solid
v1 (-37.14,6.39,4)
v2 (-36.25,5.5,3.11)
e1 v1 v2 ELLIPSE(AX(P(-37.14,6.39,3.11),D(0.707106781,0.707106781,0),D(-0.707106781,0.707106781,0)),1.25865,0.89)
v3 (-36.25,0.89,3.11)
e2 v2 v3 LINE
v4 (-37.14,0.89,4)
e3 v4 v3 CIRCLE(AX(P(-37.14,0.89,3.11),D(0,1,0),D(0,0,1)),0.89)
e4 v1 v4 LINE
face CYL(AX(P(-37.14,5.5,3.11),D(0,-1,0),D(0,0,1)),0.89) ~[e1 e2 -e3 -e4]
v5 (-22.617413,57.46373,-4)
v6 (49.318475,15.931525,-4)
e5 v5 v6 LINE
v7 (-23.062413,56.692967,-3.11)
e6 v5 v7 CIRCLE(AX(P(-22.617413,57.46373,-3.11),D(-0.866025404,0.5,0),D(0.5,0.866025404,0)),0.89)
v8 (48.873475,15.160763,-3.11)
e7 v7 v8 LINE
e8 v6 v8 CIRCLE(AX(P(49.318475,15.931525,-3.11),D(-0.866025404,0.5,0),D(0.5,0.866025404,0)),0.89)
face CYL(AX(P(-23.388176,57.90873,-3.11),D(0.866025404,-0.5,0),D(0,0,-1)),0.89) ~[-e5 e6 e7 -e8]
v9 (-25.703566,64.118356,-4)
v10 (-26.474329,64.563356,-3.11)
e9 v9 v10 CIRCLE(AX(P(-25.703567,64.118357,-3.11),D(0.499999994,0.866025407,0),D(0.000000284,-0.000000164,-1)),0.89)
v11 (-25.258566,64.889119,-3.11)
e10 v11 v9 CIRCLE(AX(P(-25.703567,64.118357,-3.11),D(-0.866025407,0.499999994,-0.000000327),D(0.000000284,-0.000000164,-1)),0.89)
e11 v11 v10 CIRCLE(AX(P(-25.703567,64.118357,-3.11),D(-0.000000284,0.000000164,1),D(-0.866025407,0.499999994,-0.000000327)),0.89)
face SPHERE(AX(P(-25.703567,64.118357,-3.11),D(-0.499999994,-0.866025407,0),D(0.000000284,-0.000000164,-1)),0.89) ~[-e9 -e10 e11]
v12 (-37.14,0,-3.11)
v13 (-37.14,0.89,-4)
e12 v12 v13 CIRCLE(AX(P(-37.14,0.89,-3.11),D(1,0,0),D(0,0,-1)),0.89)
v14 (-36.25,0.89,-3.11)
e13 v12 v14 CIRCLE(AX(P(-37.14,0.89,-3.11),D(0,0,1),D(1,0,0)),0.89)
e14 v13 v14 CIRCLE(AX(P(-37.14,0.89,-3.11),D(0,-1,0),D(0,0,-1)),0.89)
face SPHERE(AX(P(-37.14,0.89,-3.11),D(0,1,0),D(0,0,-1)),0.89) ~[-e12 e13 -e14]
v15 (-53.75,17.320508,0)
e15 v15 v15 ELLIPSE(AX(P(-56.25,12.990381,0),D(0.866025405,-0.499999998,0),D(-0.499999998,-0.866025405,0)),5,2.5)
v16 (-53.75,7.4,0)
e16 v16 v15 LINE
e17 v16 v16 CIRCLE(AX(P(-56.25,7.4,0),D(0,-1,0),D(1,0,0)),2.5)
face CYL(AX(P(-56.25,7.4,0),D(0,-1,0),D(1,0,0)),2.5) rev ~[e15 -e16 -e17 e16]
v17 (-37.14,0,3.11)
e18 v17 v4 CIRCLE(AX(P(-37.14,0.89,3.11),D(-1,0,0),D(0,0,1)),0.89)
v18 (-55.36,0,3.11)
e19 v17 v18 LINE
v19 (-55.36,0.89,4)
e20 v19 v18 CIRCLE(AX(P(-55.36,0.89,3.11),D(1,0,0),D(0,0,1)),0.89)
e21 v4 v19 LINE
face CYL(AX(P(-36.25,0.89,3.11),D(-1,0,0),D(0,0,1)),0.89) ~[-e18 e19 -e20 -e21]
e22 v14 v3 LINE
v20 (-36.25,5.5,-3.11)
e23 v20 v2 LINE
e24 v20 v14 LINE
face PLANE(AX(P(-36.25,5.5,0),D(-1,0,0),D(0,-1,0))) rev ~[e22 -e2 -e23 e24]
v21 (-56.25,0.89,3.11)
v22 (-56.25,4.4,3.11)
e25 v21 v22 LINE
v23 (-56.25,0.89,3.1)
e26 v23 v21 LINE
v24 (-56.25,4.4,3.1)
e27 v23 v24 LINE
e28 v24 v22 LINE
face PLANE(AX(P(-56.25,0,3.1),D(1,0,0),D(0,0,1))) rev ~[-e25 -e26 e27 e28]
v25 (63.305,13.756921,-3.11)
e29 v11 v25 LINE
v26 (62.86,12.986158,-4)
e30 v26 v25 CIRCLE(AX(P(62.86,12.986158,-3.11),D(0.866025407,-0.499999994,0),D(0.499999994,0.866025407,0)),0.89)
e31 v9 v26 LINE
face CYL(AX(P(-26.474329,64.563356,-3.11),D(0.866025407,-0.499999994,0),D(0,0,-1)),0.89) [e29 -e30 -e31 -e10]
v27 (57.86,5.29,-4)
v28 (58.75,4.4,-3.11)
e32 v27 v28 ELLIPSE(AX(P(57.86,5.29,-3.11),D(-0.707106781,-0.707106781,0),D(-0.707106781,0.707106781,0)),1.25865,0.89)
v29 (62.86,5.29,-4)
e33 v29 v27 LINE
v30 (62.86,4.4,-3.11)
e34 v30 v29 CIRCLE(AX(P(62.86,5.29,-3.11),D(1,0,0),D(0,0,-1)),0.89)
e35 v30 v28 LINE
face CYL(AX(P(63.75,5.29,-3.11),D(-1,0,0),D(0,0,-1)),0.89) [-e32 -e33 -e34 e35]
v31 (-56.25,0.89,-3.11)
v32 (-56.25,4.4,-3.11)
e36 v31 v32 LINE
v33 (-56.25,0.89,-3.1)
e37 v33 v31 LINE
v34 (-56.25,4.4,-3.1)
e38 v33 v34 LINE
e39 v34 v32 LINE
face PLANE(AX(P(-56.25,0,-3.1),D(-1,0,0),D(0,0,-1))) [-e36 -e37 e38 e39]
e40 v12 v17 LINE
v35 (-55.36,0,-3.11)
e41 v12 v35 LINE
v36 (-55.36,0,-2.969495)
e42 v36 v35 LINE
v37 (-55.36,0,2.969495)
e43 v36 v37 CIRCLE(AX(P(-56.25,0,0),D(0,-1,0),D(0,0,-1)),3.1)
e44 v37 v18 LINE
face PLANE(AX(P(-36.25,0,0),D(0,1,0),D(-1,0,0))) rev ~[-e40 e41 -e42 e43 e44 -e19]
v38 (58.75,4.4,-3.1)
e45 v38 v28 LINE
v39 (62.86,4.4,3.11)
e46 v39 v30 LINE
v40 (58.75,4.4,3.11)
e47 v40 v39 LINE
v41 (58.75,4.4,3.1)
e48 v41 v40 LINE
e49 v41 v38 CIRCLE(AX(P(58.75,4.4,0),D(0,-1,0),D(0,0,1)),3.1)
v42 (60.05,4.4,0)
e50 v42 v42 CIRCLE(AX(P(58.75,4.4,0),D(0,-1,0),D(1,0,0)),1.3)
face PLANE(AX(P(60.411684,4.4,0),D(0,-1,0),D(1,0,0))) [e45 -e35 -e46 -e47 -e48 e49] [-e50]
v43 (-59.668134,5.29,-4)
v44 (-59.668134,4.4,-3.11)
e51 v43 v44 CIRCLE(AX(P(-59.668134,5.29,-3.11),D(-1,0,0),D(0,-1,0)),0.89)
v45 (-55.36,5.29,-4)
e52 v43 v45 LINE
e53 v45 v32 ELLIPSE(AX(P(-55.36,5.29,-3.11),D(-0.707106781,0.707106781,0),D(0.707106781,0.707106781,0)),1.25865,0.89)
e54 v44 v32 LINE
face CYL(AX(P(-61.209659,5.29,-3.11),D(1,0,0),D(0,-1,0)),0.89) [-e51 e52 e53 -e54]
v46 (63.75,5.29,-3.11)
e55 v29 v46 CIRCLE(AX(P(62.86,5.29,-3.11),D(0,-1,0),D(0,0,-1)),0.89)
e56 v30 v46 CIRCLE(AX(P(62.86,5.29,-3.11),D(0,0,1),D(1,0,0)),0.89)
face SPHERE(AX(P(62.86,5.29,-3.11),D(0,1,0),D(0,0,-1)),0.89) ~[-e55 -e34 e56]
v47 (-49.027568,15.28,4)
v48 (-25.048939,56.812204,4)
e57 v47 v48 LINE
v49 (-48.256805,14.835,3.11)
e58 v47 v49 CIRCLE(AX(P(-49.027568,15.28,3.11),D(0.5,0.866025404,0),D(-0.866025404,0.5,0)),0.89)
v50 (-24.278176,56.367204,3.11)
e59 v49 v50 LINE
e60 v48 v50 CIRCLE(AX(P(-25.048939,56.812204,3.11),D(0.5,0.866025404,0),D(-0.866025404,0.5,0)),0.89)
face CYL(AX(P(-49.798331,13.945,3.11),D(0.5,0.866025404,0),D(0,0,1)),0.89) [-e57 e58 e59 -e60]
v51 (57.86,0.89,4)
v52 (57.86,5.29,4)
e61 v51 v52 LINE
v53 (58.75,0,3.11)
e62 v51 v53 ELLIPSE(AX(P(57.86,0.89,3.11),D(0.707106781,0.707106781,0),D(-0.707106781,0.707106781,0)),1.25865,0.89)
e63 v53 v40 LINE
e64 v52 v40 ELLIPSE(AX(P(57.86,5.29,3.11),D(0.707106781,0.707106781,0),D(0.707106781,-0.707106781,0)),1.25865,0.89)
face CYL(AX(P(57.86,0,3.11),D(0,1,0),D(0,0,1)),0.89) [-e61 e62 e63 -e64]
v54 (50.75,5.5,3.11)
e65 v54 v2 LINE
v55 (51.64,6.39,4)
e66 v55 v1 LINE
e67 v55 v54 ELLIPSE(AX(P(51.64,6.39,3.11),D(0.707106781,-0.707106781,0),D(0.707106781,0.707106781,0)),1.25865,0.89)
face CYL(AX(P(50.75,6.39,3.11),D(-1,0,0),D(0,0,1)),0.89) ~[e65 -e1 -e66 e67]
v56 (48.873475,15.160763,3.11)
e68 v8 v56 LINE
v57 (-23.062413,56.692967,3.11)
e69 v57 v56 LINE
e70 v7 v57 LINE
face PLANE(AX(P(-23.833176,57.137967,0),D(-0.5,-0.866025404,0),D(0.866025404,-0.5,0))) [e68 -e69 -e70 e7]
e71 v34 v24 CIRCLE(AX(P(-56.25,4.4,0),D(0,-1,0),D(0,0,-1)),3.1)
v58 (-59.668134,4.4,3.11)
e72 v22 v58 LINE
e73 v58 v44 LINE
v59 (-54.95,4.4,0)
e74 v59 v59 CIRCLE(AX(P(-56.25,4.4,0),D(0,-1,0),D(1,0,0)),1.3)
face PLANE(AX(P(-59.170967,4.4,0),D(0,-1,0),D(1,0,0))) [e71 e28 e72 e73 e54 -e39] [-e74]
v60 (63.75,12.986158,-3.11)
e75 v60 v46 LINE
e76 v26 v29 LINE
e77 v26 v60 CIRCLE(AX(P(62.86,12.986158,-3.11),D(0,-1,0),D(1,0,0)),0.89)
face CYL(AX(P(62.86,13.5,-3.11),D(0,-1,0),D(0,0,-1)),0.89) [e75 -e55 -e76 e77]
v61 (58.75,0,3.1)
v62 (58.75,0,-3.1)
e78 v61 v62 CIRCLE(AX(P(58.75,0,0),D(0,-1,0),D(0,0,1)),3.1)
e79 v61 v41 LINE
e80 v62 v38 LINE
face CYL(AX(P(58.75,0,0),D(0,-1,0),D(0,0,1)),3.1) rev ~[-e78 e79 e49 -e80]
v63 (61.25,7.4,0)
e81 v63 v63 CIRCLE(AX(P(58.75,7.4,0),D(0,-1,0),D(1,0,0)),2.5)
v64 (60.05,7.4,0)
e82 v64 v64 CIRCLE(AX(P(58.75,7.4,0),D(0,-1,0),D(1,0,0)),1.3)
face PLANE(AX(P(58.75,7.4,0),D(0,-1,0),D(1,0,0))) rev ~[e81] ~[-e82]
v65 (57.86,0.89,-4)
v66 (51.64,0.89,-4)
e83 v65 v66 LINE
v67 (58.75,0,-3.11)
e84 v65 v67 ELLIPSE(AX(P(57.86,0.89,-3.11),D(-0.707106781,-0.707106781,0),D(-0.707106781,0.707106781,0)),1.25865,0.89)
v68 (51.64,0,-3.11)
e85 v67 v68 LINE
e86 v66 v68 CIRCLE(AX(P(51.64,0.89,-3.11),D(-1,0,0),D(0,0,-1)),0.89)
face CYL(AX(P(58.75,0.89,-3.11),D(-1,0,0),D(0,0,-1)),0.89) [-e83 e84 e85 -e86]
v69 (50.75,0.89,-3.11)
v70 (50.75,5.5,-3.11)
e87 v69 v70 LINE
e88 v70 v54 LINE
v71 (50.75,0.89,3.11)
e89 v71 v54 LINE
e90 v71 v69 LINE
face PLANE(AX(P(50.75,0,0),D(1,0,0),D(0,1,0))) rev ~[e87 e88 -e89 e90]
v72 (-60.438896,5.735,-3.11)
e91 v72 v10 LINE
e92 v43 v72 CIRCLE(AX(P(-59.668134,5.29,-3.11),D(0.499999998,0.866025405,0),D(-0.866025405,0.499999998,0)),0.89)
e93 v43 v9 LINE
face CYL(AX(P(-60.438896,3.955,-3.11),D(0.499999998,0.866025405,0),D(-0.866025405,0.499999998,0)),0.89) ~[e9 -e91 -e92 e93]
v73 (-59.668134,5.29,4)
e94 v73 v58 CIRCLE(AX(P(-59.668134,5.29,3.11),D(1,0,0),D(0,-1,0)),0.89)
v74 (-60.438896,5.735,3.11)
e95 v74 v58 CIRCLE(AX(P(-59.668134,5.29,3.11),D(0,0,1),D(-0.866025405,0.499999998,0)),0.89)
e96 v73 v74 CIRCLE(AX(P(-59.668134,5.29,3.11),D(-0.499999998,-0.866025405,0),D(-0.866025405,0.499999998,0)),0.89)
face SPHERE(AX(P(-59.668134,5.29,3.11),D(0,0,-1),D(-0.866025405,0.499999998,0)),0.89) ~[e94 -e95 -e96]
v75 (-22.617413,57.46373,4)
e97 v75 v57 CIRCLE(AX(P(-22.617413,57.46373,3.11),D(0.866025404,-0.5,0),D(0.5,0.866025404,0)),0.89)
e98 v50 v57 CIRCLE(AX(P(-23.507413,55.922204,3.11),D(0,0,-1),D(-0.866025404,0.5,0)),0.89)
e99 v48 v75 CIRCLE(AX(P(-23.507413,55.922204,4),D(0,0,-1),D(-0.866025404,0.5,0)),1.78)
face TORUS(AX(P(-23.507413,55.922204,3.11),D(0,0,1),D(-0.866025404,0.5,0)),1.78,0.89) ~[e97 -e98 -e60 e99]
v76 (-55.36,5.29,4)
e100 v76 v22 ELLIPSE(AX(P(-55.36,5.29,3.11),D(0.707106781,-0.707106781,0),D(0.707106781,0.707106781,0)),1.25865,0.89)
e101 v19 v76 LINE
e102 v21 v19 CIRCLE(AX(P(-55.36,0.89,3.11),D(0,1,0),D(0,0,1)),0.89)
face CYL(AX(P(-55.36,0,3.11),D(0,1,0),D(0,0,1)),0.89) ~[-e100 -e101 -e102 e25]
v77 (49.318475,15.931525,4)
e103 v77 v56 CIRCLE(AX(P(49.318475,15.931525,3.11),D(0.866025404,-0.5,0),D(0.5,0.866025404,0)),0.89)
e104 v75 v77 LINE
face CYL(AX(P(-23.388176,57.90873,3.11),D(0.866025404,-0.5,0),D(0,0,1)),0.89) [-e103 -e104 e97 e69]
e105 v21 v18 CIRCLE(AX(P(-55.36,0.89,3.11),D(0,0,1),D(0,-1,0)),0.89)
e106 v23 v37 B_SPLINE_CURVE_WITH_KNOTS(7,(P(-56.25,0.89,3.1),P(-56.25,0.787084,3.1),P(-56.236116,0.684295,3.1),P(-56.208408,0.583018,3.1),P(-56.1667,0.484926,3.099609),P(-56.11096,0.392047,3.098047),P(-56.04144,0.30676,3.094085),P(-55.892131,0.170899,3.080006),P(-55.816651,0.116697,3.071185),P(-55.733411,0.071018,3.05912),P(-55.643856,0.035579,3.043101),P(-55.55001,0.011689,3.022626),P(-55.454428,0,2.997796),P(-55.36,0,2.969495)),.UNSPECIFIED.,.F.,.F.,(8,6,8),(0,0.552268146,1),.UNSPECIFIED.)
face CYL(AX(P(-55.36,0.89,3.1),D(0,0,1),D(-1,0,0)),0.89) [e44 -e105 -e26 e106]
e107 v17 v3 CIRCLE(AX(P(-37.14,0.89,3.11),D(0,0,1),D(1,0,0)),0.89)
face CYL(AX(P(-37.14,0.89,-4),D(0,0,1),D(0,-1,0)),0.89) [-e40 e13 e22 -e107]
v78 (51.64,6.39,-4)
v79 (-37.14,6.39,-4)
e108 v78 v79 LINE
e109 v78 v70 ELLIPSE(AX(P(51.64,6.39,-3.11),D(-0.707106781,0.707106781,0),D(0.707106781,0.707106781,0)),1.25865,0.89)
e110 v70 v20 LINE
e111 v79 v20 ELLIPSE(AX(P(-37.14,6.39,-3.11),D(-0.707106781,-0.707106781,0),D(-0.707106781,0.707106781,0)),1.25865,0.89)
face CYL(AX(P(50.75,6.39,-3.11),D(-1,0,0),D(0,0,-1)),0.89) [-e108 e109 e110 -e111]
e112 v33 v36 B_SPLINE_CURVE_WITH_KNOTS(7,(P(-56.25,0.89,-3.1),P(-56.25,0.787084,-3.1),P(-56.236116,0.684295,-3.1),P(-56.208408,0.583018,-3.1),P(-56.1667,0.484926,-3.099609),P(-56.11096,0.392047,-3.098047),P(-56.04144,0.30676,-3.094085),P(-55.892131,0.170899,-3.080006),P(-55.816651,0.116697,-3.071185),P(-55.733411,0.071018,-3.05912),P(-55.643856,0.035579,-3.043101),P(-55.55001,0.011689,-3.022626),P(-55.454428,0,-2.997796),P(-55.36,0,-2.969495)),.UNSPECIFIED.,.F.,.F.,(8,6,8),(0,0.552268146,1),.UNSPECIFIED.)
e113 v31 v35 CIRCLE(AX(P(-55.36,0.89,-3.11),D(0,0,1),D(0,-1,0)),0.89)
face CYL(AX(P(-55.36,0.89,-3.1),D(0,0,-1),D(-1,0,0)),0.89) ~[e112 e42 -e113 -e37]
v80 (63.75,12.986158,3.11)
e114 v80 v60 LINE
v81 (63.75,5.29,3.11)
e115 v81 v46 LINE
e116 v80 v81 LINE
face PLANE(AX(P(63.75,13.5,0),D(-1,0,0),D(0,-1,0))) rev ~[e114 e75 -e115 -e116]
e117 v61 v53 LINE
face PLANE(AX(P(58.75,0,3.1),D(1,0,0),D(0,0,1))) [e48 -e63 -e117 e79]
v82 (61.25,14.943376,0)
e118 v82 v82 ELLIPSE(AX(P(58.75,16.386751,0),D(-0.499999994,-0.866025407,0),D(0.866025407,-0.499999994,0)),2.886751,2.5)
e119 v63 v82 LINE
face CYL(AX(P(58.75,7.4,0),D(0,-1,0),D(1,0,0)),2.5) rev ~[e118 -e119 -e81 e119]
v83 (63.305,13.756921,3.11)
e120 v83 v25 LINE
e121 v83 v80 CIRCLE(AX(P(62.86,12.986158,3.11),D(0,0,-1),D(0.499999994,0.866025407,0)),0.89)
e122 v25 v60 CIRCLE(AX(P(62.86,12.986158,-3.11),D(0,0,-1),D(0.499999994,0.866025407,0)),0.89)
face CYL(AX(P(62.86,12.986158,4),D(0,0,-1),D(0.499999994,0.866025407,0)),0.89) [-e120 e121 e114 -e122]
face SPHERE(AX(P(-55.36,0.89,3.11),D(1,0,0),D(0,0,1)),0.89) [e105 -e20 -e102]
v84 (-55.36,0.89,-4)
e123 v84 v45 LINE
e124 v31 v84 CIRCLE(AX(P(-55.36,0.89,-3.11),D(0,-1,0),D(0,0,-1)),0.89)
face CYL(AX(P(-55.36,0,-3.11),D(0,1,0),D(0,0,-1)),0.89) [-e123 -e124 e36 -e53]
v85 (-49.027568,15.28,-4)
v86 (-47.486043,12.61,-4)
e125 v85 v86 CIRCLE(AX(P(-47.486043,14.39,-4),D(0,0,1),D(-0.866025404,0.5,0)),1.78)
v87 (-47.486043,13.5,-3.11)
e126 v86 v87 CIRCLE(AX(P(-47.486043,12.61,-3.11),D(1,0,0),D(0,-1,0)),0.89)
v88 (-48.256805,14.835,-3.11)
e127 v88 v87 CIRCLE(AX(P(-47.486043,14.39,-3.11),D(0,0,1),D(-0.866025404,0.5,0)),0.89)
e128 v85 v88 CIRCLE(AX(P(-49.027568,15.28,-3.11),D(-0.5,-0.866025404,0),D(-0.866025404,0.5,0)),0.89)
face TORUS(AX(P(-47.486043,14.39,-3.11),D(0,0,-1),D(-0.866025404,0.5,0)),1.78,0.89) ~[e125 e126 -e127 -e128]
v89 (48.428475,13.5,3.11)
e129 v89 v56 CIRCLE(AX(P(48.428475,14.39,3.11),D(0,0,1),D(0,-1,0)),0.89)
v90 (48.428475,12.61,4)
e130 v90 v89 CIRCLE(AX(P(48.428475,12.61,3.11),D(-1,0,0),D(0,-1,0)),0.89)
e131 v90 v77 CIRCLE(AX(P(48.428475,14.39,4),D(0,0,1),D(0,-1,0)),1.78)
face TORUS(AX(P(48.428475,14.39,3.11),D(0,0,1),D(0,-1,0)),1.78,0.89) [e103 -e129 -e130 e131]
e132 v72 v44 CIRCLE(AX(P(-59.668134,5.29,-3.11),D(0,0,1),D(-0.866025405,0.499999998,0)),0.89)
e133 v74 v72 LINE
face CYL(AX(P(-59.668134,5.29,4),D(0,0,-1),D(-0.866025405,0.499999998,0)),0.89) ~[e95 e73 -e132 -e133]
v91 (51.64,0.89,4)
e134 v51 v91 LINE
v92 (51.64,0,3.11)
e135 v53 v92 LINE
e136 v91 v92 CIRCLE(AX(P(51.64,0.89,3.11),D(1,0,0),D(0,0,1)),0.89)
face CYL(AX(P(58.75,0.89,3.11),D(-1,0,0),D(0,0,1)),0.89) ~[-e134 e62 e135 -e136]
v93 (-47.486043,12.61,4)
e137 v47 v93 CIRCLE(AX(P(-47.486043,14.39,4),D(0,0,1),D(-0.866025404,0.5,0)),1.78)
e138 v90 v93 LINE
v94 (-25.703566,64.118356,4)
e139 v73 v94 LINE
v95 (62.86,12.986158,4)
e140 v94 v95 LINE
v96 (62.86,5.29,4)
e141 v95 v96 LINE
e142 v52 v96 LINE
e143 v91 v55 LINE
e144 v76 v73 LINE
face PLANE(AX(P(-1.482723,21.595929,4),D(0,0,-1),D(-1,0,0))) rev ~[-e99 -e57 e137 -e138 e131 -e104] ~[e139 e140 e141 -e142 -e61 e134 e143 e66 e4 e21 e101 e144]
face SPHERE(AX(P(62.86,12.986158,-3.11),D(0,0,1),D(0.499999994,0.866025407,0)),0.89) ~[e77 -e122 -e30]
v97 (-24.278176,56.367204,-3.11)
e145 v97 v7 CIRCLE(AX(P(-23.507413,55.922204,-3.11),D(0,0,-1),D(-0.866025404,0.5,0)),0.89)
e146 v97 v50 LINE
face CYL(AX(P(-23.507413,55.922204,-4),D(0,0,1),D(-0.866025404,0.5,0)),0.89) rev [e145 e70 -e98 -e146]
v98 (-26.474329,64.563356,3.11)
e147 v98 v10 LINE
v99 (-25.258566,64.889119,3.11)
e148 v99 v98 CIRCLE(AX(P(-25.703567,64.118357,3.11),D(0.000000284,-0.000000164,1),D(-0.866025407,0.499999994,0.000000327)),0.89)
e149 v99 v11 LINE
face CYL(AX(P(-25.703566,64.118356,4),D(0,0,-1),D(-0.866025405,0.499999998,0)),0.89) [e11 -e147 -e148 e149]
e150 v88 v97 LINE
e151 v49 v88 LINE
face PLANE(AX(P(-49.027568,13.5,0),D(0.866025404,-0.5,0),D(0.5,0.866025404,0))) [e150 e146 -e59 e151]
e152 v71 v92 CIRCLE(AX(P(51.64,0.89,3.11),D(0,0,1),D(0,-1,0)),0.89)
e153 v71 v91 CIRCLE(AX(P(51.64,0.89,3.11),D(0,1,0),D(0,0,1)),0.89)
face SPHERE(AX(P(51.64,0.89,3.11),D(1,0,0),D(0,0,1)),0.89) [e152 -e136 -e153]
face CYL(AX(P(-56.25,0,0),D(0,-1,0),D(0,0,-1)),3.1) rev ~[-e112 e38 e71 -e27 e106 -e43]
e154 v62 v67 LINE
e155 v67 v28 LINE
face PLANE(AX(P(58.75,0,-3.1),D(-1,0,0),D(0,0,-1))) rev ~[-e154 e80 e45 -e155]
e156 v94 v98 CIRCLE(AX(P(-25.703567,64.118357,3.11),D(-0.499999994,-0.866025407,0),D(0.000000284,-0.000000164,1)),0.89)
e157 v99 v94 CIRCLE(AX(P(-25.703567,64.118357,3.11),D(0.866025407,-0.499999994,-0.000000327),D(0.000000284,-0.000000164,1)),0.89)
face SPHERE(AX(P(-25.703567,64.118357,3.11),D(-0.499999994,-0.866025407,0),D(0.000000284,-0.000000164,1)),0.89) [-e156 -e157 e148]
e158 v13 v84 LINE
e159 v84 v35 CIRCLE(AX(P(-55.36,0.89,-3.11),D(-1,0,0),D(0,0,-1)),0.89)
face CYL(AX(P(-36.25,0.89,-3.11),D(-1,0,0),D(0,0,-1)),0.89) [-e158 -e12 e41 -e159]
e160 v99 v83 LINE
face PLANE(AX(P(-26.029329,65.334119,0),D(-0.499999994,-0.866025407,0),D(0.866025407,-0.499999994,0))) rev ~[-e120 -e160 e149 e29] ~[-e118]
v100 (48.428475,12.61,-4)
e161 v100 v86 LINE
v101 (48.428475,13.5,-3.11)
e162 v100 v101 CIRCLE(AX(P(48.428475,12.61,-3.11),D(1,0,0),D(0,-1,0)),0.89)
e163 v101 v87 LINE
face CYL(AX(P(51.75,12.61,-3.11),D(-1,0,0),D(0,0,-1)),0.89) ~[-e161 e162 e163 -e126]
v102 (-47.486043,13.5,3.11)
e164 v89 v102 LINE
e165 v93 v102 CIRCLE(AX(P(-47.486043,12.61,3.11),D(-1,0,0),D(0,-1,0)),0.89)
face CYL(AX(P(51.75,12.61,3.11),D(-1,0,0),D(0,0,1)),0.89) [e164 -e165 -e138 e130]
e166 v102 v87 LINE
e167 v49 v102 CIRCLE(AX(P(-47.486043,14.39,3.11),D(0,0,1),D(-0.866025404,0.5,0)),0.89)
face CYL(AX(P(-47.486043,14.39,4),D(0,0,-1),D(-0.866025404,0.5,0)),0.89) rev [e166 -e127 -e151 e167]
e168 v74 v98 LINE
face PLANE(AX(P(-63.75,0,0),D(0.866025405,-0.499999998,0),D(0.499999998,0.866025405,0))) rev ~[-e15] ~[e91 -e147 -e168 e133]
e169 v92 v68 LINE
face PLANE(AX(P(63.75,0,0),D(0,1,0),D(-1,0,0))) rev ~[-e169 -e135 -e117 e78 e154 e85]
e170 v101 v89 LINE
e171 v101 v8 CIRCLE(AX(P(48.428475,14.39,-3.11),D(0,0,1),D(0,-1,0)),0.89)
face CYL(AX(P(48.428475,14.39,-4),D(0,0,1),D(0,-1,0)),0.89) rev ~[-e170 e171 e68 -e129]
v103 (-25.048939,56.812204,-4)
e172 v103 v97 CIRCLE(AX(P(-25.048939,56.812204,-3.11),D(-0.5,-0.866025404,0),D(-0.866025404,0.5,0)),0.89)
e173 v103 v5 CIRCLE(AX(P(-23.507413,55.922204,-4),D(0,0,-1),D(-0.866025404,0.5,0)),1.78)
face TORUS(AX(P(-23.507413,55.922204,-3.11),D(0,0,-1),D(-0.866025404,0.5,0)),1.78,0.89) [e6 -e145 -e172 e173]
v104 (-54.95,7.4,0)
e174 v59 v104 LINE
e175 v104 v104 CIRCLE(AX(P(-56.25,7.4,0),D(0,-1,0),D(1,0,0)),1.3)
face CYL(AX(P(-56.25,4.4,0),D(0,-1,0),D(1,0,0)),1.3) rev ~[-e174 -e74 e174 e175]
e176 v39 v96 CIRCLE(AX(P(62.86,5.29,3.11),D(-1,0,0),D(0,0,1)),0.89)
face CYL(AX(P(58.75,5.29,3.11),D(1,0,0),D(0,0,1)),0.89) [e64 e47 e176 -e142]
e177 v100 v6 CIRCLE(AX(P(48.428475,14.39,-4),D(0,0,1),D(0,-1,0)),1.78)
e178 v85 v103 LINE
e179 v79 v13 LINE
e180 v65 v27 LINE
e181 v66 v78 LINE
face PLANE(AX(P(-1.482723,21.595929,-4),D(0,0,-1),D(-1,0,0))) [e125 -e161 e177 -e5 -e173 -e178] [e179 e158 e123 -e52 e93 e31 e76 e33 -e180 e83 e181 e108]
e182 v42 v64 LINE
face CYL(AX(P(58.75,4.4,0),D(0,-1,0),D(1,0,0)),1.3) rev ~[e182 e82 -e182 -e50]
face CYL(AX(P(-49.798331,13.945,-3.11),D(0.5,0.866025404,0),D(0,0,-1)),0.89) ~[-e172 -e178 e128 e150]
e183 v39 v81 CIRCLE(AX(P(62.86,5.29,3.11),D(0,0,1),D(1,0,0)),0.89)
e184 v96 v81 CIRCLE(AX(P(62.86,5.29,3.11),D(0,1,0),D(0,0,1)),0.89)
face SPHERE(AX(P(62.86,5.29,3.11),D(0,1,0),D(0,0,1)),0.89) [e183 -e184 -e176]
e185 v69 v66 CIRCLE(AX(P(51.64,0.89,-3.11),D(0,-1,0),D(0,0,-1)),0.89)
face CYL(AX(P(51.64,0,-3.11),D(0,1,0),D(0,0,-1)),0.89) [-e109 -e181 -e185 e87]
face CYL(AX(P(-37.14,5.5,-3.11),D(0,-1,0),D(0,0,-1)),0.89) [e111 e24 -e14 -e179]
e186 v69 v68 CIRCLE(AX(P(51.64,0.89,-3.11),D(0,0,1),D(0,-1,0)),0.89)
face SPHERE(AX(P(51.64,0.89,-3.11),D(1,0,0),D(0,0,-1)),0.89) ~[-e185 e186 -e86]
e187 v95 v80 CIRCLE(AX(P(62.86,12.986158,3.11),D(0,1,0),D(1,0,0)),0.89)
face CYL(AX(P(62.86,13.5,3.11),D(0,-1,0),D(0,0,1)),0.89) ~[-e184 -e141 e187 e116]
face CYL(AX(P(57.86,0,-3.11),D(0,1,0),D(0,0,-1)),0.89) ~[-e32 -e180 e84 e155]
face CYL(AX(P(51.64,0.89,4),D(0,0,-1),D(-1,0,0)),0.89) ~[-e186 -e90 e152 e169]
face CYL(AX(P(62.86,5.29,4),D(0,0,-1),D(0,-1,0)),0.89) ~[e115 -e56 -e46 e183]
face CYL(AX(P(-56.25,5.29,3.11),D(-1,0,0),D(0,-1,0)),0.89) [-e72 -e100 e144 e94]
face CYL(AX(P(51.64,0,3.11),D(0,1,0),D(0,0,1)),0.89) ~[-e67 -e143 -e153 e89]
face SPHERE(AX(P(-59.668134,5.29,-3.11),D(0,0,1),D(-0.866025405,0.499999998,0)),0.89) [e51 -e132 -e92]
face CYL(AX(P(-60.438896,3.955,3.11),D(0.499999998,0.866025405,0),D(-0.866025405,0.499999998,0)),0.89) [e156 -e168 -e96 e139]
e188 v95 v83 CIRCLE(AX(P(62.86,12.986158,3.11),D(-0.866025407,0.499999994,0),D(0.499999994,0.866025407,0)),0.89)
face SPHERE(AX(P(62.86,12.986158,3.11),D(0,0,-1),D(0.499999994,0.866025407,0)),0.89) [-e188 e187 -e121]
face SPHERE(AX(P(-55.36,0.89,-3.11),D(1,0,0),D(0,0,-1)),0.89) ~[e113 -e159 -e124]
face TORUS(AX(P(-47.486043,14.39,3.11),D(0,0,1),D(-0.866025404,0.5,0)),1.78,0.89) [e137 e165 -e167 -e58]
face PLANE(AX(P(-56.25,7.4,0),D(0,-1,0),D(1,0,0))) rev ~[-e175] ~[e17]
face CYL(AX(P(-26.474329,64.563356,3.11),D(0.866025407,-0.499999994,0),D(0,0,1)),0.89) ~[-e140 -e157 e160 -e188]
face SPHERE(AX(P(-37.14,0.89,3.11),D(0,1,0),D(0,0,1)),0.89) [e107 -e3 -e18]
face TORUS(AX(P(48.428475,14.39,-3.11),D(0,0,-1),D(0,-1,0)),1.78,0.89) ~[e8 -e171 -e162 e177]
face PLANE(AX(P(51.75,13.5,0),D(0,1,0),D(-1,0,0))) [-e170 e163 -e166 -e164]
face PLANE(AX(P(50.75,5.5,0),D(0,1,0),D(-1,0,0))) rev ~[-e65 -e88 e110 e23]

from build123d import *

# Parameters (mm, degrees)
PAD_DEPTH       = 4
POCKET_DEPTH    = 4.4
SKETCH003_R     = 1.3
POCKET001_DEPTH = 60.935119
SKETCH004_R     = 2.5
POCKET002_DEPTH = 57.935119
FILLET_R        = 0.89


with BuildPart() as part:
    # Sketch001 → Pad (new body, symmetric)
    with BuildSketch(Plane.XY):
        Polygon((-63.75, 0), (-26.029329, 65.334119), (63.75, 13.5), (63.75, 0), (50.75, 0), (50.75, 5.5), (-36.25, 5.5), (-36.25, 0), align=None)
        Polygon((-49.027568, 13.5), (-23.833176, 57.137967), (51.75, 13.5), align=None, mode=Mode.SUBTRACT)
    extrude(amount=PAD_DEPTH, both=True)

    # Sketch002 → Pocket (cut)
    with BuildSketch(Plane.XZ):
        with BuildLine():
            ThreePointArc((-56.25, -3.1), (-53.15, 0), (-56.25, 3.1))
            Line((-56.25, 3.1), (-56.25, 4))
            Line((-56.25, 4), (-63.75, 4))
            Line((-63.75, 4), (-63.75, -4))
            Line((-63.75, -4), (-56.25, -4))
            Line((-56.25, -3.1), (-56.25, -4))
        make_face()
        with BuildLine():
            ThreePointArc((58.75, 3.1), (55.65, 0), (58.75, -3.1))
            Line((58.75, -3.1), (58.75, -4))
            Line((63.75, -4), (58.75, -4))
            Line((63.75, 4), (63.75, -4))
            Line((58.75, 4), (63.75, 4))
            Line((58.75, 3.1), (58.75, 4))
        make_face()
    extrude(amount=-POCKET_DEPTH, mode=Mode.SUBTRACT)

    # Sketch003 → Pocket001 (cut, through all)
    with BuildSketch(Plane.XZ.offset(-4.4)):
        with Locations((-56.25, 0)):
            Circle(SKETCH003_R)
        with Locations((58.75, 0)):
            Circle(SKETCH003_R)
    extrude(amount=-POCKET001_DEPTH, mode=Mode.SUBTRACT)

    # Sketch004 → Pocket002 (cut, through all)
    with BuildSketch(Plane.XZ.offset(-7.4)):
        with Locations((-56.25, 0)):
            Circle(SKETCH004_R)
        with Locations((58.75, 0)):
            Circle(SKETCH004_R)
    extrude(amount=-POCKET002_DEPTH, mode=Mode.SUBTRACT)

    # Fillet
    fillet_edges = [part.edges().sort_by_distance(p)[0] for p in [
        (-43.619494, 34.86706, -4),
        (18.860336, 39.41706, -4),
        (63.75, 8.95, -4),
        (61.25, 4.4, -4),
        (58.75, 2.2, -4),
        (54.75, 0, -4),
        (50.75, 2.75, -4),
        (7.25, 5.5, -4),
        (-36.25, 2.75, -4),
        (-46.25, 0, -4),
        (-56.25, 2.2, -4),
        (-58.729829, 4.4, -4),
        (-36.430372, 35.318984, -4),
        (1.361216, 13.5, -4),
        (13.958412, 35.318984, -4),
        (-43.619494, 34.86706, 4),
        (18.860336, 39.41706, 4),
        (63.75, 8.95, 4),
        (61.25, 4.4, 4),
        (58.75, 2.2, 4),
        (54.75, 0, 4),
        (50.75, 2.75, 4),
        (7.25, 5.5, 4),
        (-36.25, 2.75, 4),
        (-46.25, 0, 4),
        (-56.25, 2.2, 4),
        (-58.729829, 4.4, 4),
        (-36.430372, 35.318984, 4),
        (1.361216, 13.5, 4),
        (13.958412, 35.318984, 4),
        (63.75, 4.4, 0),
        (63.75, 13.5, 0),
        (-49.027568, 13.5, 0),
        (-23.833176, 57.137967, 0),
        (51.75, 13.5, 0),
        (-26.029329, 65.334119, 0),
        (-61.209659, 4.4, 0),
        (-56.25, 0, 3.55),
        (-56.25, 0, -3.55),
        (-36.25, 0, 0),
        (50.75, 0, 0),
    ]]
    fillet(fillet_edges, radius=FILLET_R)


solid = part.part
